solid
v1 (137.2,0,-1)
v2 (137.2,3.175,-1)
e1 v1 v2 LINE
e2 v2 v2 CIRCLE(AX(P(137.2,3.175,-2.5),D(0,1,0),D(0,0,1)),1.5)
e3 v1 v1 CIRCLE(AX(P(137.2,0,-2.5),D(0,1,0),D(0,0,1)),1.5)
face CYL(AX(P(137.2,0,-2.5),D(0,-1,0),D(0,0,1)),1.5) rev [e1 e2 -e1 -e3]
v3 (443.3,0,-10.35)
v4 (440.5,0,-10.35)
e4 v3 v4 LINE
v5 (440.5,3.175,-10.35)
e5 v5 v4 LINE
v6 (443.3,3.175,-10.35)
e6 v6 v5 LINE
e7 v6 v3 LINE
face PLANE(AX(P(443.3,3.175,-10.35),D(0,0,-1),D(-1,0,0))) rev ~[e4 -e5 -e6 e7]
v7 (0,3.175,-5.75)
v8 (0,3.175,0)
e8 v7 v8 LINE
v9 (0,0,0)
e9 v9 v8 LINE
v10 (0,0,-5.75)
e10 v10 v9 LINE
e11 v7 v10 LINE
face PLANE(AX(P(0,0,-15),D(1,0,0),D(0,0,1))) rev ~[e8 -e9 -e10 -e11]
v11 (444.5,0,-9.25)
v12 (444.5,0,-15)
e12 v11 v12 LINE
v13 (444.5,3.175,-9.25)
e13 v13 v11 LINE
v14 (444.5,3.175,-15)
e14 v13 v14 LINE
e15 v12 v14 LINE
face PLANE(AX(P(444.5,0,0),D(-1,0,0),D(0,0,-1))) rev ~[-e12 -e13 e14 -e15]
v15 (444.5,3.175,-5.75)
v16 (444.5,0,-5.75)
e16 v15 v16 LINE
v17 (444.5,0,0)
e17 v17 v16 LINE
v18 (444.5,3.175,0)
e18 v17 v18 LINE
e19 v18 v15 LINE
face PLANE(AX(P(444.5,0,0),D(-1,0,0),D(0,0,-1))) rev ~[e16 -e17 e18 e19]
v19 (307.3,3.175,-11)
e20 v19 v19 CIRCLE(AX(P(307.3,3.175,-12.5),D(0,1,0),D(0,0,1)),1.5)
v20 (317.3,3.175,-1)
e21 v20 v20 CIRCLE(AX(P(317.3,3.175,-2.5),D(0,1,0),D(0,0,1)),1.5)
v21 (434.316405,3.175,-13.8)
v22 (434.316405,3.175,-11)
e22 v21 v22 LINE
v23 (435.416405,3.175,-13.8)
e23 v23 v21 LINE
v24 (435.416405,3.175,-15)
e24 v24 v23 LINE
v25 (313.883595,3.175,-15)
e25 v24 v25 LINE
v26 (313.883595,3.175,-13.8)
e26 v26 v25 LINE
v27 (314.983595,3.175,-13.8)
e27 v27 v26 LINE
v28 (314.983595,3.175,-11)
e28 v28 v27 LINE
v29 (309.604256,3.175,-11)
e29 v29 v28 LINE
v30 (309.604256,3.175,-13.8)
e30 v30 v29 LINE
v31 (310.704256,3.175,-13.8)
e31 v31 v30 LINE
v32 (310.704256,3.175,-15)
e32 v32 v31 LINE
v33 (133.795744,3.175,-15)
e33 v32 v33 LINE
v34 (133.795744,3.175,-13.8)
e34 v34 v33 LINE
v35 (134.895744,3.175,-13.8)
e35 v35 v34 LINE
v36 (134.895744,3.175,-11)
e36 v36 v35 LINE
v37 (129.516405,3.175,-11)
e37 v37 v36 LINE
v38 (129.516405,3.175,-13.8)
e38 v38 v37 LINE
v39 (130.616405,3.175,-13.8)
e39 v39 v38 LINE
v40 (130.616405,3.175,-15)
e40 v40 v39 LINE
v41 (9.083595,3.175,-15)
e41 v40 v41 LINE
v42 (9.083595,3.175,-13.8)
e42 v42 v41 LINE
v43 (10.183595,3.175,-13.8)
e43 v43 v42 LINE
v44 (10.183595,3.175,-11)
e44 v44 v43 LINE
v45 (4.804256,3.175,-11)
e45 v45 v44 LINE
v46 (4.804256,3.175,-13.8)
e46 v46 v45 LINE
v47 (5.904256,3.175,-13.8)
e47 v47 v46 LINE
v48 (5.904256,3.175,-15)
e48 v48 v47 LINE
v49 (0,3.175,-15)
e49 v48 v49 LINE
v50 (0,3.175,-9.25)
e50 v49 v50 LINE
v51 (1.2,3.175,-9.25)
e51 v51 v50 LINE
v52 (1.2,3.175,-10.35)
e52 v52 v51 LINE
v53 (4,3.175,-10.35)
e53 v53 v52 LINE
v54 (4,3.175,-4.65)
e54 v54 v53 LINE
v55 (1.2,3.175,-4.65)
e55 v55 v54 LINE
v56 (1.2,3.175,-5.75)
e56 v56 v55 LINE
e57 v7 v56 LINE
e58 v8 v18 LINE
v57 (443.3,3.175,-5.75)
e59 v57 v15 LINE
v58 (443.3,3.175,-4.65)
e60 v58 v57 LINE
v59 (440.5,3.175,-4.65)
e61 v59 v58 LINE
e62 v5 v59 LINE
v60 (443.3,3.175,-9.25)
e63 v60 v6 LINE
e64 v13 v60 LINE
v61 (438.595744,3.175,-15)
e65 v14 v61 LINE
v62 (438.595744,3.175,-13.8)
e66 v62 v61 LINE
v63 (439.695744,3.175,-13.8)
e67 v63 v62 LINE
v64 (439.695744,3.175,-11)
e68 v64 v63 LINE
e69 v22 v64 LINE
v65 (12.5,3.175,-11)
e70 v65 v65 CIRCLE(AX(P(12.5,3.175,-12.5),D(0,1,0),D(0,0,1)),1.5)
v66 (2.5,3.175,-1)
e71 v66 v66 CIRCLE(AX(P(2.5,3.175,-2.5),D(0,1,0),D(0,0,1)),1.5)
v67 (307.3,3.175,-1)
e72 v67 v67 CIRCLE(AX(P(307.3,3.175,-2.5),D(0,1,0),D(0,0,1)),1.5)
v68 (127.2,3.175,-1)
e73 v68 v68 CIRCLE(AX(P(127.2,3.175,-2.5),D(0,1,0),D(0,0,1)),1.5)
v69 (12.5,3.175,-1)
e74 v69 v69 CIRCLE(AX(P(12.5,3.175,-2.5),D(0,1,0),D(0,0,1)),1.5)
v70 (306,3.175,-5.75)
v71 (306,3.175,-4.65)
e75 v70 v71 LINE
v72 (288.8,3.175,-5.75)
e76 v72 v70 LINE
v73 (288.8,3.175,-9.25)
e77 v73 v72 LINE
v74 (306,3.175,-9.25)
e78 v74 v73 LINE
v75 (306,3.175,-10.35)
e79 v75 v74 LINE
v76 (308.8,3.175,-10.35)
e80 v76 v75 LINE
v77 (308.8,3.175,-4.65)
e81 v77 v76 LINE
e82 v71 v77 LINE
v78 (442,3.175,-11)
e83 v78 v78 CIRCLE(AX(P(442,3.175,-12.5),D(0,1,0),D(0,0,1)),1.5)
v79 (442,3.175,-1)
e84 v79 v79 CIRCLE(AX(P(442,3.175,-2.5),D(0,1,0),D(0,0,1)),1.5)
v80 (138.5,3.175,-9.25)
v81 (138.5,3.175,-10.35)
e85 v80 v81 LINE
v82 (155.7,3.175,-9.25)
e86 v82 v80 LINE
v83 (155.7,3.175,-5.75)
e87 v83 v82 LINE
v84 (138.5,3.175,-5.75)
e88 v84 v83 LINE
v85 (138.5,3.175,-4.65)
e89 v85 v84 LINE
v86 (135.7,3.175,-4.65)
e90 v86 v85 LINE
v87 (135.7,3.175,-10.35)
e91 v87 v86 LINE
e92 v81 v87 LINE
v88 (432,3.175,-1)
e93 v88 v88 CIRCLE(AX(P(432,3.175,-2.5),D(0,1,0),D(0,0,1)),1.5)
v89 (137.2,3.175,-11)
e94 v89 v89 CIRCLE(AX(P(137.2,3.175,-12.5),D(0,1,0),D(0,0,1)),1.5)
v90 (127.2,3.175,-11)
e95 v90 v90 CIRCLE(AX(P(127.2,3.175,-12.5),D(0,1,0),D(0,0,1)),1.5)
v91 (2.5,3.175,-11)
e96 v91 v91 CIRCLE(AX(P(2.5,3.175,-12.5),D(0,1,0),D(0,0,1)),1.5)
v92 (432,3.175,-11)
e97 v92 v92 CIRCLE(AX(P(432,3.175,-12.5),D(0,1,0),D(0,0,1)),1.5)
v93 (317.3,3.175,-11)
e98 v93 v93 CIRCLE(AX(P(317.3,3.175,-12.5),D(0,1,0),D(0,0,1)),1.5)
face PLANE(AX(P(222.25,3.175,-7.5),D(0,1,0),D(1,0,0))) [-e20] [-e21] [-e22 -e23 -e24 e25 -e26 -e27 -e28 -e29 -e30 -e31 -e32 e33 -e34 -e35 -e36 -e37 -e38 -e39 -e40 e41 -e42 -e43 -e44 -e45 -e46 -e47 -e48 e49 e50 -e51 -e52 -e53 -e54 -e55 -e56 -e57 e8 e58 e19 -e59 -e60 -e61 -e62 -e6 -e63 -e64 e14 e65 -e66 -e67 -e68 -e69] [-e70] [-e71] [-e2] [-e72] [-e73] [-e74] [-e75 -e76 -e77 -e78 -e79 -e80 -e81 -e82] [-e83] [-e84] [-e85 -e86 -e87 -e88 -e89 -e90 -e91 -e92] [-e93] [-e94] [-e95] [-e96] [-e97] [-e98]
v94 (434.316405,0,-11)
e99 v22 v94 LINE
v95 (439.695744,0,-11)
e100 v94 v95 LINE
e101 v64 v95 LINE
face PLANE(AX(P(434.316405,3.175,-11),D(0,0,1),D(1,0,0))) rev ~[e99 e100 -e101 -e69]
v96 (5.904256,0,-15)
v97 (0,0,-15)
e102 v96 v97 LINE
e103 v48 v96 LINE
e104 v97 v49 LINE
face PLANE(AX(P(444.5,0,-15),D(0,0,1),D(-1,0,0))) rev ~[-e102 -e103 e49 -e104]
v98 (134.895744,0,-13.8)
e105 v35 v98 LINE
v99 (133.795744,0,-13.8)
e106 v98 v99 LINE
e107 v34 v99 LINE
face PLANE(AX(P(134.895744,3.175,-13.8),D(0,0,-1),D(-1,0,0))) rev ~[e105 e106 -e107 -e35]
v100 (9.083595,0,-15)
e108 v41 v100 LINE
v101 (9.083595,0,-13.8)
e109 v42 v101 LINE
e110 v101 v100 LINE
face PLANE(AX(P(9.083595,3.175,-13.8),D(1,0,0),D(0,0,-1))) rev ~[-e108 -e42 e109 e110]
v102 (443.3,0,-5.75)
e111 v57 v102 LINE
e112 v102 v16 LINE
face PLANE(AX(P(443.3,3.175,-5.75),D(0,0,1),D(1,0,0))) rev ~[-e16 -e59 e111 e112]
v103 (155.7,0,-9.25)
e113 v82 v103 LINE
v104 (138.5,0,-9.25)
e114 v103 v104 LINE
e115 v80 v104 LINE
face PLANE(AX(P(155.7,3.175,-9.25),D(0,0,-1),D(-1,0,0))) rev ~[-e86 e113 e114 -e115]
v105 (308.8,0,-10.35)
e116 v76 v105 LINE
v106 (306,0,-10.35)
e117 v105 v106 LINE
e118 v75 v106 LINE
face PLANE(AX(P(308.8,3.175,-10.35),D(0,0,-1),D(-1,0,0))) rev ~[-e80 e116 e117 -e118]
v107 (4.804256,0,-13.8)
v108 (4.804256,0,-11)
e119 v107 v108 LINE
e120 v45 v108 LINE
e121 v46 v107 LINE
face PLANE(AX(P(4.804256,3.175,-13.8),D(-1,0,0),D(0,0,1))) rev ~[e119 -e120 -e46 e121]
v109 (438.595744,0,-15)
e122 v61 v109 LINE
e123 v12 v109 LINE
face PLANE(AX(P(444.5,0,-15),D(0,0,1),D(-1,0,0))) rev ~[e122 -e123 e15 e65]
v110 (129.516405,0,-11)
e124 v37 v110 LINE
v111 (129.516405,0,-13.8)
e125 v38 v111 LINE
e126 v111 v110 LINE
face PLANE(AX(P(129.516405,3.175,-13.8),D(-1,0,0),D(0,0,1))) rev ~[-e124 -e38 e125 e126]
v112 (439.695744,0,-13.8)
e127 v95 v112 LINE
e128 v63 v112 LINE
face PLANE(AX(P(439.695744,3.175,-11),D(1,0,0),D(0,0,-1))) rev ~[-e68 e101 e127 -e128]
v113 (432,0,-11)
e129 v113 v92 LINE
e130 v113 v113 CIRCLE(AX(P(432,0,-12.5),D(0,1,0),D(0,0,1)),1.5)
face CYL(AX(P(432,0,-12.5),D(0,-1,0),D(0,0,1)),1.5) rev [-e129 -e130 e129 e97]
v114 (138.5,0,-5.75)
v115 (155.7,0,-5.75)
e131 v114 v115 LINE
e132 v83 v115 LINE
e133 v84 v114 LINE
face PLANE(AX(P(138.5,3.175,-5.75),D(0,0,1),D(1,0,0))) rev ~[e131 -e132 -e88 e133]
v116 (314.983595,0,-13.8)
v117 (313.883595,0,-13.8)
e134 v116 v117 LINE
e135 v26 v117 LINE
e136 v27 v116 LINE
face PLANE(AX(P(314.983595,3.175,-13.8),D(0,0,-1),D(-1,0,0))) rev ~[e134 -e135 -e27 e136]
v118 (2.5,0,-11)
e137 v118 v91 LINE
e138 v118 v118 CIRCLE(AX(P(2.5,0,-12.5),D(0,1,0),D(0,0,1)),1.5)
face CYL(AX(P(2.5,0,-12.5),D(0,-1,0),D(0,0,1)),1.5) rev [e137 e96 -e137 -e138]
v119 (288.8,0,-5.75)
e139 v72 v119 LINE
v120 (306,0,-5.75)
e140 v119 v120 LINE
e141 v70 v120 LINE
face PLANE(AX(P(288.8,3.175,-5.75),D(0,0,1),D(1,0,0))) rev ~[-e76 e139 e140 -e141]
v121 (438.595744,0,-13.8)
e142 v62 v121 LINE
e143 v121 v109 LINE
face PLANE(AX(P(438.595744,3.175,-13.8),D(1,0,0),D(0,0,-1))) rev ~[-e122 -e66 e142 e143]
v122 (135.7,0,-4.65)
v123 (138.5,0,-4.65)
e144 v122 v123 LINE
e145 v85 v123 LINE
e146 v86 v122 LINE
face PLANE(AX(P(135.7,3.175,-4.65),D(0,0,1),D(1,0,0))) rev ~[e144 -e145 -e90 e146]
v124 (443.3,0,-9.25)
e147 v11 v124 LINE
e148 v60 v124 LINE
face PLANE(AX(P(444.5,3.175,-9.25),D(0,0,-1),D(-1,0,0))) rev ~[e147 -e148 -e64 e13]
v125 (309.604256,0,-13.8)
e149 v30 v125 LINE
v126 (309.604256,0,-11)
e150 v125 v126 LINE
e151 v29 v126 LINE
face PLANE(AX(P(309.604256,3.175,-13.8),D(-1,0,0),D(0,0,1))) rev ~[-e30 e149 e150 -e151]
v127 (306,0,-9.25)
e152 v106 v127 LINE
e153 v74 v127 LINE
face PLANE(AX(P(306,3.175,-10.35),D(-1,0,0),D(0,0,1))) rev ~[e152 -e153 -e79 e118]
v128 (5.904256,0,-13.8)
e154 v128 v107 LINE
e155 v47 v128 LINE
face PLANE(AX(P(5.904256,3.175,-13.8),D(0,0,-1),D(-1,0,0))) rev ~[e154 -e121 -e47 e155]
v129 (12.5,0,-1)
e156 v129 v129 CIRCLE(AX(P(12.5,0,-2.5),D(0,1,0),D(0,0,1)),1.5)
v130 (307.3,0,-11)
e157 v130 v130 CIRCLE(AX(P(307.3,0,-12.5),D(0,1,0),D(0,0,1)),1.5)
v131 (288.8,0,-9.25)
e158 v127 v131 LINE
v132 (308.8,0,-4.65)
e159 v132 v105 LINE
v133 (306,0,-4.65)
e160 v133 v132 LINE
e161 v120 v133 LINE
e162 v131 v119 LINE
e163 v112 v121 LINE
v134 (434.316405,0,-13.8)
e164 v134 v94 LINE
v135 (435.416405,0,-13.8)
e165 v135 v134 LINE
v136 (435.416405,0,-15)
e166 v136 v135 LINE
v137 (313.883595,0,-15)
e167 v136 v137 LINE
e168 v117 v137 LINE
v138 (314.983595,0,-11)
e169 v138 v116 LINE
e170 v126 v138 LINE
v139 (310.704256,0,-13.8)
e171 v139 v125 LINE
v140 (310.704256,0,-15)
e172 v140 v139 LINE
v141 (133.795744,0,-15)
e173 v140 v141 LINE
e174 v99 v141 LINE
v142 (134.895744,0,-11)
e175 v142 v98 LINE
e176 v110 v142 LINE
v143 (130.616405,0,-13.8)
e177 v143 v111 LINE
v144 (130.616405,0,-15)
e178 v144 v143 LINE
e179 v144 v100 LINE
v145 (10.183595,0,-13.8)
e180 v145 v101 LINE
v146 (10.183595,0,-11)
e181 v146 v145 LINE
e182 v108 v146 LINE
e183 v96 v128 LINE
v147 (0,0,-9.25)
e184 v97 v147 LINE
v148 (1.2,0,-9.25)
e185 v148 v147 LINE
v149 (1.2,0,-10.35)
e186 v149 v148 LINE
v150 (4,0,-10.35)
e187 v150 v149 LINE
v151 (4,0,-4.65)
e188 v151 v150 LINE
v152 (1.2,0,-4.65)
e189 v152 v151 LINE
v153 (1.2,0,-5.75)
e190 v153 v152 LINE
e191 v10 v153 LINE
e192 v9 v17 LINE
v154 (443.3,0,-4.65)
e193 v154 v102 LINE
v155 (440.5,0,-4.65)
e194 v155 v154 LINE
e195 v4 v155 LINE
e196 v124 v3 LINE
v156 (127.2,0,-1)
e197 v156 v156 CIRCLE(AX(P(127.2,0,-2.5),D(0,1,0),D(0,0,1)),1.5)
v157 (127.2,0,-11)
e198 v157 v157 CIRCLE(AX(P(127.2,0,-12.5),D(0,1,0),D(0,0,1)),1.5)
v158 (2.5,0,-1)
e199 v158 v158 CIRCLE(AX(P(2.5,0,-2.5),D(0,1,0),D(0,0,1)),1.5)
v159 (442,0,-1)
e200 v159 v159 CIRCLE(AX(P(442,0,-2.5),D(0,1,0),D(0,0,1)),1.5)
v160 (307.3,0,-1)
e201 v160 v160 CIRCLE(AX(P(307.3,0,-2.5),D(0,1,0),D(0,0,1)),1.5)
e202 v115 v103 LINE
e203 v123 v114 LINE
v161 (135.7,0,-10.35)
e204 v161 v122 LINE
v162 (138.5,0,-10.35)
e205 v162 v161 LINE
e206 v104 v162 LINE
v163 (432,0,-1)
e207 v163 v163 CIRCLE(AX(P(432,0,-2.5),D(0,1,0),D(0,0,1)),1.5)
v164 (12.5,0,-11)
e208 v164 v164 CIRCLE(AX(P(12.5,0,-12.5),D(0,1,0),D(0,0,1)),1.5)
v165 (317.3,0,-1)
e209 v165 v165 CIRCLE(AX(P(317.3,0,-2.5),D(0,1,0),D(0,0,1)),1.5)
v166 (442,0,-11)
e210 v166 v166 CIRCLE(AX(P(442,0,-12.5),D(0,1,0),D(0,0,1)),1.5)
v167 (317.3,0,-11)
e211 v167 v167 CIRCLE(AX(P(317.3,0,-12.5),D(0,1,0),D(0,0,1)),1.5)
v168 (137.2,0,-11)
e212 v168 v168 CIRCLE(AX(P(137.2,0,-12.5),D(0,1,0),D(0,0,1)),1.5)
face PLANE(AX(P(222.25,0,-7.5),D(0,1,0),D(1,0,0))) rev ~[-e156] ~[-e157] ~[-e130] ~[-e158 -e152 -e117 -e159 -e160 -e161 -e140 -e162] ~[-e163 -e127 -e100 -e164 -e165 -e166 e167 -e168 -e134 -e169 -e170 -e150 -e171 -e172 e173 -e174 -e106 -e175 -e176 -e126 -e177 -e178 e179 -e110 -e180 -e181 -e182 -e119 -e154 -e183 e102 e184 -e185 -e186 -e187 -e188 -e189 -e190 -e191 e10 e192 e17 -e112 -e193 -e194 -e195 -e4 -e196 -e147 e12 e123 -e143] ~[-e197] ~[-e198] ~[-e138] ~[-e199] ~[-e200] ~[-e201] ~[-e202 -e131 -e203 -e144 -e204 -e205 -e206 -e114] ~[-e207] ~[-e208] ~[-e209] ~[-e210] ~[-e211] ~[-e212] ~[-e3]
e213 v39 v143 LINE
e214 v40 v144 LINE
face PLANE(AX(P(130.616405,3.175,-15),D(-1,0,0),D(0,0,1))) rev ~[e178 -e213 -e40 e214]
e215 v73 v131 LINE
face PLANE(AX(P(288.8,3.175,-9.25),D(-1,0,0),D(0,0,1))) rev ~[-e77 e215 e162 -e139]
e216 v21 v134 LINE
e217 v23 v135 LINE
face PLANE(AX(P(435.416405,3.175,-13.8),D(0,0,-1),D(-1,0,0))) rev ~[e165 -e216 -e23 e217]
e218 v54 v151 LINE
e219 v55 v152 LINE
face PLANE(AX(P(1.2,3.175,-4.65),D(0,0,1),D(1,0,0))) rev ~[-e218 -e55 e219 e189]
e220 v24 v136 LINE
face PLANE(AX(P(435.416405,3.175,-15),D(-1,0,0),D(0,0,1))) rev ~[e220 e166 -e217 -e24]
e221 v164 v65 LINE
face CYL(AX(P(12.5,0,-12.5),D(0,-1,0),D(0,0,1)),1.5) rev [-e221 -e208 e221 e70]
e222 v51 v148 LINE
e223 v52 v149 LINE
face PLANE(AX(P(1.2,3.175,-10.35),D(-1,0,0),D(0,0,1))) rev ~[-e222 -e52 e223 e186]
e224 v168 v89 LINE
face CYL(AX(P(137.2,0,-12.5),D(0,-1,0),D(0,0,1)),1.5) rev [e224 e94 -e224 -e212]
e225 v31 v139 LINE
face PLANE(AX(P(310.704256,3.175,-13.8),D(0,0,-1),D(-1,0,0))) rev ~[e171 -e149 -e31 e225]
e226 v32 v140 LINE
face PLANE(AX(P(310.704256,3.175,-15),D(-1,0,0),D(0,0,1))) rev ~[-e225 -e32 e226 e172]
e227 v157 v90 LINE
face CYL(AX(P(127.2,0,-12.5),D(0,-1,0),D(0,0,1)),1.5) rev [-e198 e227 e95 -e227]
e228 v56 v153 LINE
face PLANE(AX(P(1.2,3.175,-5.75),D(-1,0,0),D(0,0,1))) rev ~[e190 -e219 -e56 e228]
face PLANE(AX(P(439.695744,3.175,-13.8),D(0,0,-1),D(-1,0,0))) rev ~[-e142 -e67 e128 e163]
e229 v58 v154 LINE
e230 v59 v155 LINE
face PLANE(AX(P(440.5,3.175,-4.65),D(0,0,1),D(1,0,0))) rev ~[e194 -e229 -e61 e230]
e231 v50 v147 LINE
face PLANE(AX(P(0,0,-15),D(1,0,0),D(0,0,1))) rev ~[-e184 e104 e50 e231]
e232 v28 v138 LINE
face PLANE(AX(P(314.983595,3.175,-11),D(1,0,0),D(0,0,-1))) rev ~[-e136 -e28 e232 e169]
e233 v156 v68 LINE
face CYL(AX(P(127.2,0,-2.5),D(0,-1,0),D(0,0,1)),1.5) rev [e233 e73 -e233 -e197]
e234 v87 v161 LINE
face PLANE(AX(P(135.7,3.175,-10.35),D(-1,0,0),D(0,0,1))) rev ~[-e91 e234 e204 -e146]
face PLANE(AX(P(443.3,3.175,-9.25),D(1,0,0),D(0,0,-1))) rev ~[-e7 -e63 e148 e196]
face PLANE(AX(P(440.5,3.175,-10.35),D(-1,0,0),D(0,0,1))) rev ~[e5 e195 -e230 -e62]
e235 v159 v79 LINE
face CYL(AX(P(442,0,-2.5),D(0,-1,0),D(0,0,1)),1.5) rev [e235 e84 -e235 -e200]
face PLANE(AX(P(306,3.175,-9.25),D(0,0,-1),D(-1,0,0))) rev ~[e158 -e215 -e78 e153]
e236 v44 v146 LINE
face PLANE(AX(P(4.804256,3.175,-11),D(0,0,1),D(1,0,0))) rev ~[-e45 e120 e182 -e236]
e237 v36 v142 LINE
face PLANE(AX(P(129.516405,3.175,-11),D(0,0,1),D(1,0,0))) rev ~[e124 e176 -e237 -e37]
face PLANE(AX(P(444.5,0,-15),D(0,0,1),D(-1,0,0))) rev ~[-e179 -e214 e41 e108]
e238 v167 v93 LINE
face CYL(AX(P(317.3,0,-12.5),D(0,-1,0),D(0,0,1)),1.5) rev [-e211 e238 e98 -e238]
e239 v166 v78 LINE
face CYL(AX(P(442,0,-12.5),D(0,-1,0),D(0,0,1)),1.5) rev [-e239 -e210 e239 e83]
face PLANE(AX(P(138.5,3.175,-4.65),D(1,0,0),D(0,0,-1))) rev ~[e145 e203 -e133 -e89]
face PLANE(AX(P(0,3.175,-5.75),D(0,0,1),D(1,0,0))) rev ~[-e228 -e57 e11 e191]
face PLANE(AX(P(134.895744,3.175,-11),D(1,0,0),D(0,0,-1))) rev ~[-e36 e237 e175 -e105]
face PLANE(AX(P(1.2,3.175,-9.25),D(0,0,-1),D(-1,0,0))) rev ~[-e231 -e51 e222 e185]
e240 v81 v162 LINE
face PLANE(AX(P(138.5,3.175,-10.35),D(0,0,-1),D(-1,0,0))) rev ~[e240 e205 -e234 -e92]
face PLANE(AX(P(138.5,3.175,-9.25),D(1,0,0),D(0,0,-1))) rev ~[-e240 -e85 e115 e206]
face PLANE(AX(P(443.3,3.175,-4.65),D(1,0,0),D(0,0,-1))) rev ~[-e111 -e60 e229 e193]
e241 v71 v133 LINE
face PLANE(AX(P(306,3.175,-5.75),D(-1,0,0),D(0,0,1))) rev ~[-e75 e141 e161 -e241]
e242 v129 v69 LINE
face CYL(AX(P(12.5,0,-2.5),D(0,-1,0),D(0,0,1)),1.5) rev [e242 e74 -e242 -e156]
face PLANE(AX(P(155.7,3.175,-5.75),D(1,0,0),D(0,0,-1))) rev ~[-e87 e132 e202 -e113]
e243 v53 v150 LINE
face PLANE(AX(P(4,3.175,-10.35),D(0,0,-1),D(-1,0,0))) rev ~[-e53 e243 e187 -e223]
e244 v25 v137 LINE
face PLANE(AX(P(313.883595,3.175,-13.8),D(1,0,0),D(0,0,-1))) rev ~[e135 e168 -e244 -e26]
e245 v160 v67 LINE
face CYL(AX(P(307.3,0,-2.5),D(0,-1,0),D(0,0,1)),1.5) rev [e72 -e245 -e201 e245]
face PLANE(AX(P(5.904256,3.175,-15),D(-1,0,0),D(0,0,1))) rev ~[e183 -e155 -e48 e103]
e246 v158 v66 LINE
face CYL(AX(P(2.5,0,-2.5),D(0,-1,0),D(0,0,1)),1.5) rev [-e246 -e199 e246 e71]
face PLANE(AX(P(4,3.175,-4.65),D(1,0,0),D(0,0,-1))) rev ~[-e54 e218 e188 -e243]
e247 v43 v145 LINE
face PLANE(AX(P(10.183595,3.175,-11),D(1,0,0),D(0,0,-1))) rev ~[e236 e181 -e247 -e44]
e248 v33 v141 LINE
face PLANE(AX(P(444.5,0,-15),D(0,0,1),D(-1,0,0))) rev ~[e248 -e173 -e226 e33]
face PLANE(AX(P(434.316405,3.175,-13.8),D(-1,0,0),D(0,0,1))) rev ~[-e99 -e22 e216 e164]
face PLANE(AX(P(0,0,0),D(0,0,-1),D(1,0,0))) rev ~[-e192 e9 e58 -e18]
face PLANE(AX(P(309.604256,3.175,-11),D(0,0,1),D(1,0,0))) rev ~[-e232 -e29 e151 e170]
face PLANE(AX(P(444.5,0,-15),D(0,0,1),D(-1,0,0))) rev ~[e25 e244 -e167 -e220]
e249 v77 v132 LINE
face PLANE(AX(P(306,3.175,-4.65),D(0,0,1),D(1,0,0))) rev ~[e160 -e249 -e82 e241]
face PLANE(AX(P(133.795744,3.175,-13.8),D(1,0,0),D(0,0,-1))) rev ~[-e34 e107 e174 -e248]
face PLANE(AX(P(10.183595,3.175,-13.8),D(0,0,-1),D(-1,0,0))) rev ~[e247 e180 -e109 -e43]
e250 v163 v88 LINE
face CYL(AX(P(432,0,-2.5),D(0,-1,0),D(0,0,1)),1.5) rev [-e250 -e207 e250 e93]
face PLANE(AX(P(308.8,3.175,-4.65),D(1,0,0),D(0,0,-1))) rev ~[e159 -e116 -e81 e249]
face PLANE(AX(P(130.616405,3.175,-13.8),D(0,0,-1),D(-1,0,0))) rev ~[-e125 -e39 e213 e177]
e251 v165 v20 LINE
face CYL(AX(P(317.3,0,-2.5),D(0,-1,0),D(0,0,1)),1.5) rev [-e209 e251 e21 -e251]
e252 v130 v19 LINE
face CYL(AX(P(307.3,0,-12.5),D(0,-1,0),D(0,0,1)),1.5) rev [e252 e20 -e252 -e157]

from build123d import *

# Parameters (mm, degrees)
SKETCH1_R           = 1.5
BOSS_EXTRUDE1_DEPTH = 3.175
CUT_EXTRUDE19_DEPTH = 445.76435404


with BuildPart() as part:
    # Sketch1 → Boss-Extrude1 (new body)
    with BuildSketch(Plane(origin=(0, 0, 0), x_dir=(1, 0, 0), z_dir=(0, 1, 0))):
        Polygon((0, 7.5), (0, 0), (444.5, 0), (444.5, 15), (0, 15), align=None)
        with Locations(Location((2.5, 2.5, 0), (0, 0, 270))):
            Circle(SKETCH1_R, mode=Mode.SUBTRACT)
        with Locations(Location((12.5, 2.5, 0), (0, 0, 270))):
            Circle(SKETCH1_R, mode=Mode.SUBTRACT)
        with Locations(Location((127.2, 2.5, 0), (0, 0, 270))):
            Circle(SKETCH1_R, mode=Mode.SUBTRACT)
        with Locations(Location((137.2, 2.5, 0), (0, 0, 270))):
            Circle(SKETCH1_R, mode=Mode.SUBTRACT)
        with Locations(Location((2.5, 12.5, 0), (0, 0, 270))):
            Circle(SKETCH1_R, mode=Mode.SUBTRACT)
        with Locations(Location((12.5, 12.5, 0), (0, 0, 270))):
            Circle(SKETCH1_R, mode=Mode.SUBTRACT)
        with Locations(Location((127.2, 12.5, 0), (0, 0, 270))):
            Circle(SKETCH1_R, mode=Mode.SUBTRACT)
        with Locations(Location((137.2, 12.5, 0), (0, 0, 270))):
            Circle(SKETCH1_R, mode=Mode.SUBTRACT)
        with Locations(Location((442, 12.5, 0), (0, 0, 270))):
            Circle(SKETCH1_R, mode=Mode.SUBTRACT)
        with Locations(Location((307.3, 2.5, 0), (0, 0, 270))):
            Circle(SKETCH1_R, mode=Mode.SUBTRACT)
        with Locations(Location((317.3, 2.5, 0), (0, 0, 270))):
            Circle(SKETCH1_R, mode=Mode.SUBTRACT)
        with Locations(Location((432, 2.5, 0), (0, 0, 270))):
            Circle(SKETCH1_R, mode=Mode.SUBTRACT)
        with Locations(Location((442, 2.5, 0), (0, 0, 270))):
            Circle(SKETCH1_R, mode=Mode.SUBTRACT)
        with Locations(Location((307.3, 12.5, 0), (0, 0, 270))):
            Circle(SKETCH1_R, mode=Mode.SUBTRACT)
        with Locations(Location((317.3, 12.5, 0), (0, 0, 270))):
            Circle(SKETCH1_R, mode=Mode.SUBTRACT)
        with Locations(Location((432, 12.5, 0), (0, 0, 270))):
            Circle(SKETCH1_R, mode=Mode.SUBTRACT)
    extrude(amount=BOSS_EXTRUDE1_DEPTH)

    # Sketch23 → Cut-Extrude19 (cut, through all)
    with BuildSketch(Plane(origin=(0, 3.175, 0), x_dir=(1, 0, 0), z_dir=(0, 1, 0))):
        Polygon((444.5, 7.5), (444.5, 9.25), (443.3, 9.25), (443.3, 10.35), (440.5, 10.35), (440.5, 4.65), (443.3, 4.65), (443.3, 5.75), (444.5, 5.75), align=None)
        Polygon((437, 15), (435.416405275, 15), (435.416405275, 13.8), (434.316405275, 13.8), (434.316405275, 11), (439.695743789, 11), (439.695743789, 13.8), (438.595743789, 13.8), (438.595743789, 15), align=None)
        Polygon((306, 5.75), (306, 4.65), (308.8, 4.65), (308.8, 10.35), (306, 10.35), (306, 9.25), (304.8, 9.25), (288.8, 9.25), (288.8, 5.75), (304.8, 5.75), align=None)
        Polygon((312.3, 15), (310.704256211, 15), (310.704256211, 13.8), (309.604256211, 13.8), (309.604256211, 11), (314.983594725, 11), (314.983594725, 13.8), (313.883594725, 13.8), (313.883594725, 15), align=None)
        Polygon((135.7, 4.65), (138.5, 4.65), (138.5, 5.75), (139.7, 5.75), (155.7, 5.75), (155.7, 9.25), (139.7, 9.25), (138.5, 9.25), (138.5, 10.35), (135.7, 10.35), align=None)
        Polygon((132.2, 15), (130.616405275, 15), (130.616405275, 13.8), (129.516405275, 13.8), (129.516405275, 11), (134.895743789, 11), (134.895743789, 13.8), (133.795743789, 13.8), (133.795743789, 15), align=None)
        Polygon((7.5, 15), (5.904256211, 15), (5.904256211, 13.8), (4.804256211, 13.8), (4.804256211, 11), (10.183594725, 11), (10.183594725, 13.8), (9.083594725, 13.8), (9.083594725, 15), align=None)
        Polygon((0, 9.25), (0, 7.5), (0, 5.75), (1.2, 5.75), (1.2, 4.65), (4, 4.65), (4, 10.35), (1.2, 10.35), (1.2, 9.25), align=None)
    extrude(amount=-CUT_EXTRUDE19_DEPTH, mode=Mode.SUBTRACT)


solid = part.part
